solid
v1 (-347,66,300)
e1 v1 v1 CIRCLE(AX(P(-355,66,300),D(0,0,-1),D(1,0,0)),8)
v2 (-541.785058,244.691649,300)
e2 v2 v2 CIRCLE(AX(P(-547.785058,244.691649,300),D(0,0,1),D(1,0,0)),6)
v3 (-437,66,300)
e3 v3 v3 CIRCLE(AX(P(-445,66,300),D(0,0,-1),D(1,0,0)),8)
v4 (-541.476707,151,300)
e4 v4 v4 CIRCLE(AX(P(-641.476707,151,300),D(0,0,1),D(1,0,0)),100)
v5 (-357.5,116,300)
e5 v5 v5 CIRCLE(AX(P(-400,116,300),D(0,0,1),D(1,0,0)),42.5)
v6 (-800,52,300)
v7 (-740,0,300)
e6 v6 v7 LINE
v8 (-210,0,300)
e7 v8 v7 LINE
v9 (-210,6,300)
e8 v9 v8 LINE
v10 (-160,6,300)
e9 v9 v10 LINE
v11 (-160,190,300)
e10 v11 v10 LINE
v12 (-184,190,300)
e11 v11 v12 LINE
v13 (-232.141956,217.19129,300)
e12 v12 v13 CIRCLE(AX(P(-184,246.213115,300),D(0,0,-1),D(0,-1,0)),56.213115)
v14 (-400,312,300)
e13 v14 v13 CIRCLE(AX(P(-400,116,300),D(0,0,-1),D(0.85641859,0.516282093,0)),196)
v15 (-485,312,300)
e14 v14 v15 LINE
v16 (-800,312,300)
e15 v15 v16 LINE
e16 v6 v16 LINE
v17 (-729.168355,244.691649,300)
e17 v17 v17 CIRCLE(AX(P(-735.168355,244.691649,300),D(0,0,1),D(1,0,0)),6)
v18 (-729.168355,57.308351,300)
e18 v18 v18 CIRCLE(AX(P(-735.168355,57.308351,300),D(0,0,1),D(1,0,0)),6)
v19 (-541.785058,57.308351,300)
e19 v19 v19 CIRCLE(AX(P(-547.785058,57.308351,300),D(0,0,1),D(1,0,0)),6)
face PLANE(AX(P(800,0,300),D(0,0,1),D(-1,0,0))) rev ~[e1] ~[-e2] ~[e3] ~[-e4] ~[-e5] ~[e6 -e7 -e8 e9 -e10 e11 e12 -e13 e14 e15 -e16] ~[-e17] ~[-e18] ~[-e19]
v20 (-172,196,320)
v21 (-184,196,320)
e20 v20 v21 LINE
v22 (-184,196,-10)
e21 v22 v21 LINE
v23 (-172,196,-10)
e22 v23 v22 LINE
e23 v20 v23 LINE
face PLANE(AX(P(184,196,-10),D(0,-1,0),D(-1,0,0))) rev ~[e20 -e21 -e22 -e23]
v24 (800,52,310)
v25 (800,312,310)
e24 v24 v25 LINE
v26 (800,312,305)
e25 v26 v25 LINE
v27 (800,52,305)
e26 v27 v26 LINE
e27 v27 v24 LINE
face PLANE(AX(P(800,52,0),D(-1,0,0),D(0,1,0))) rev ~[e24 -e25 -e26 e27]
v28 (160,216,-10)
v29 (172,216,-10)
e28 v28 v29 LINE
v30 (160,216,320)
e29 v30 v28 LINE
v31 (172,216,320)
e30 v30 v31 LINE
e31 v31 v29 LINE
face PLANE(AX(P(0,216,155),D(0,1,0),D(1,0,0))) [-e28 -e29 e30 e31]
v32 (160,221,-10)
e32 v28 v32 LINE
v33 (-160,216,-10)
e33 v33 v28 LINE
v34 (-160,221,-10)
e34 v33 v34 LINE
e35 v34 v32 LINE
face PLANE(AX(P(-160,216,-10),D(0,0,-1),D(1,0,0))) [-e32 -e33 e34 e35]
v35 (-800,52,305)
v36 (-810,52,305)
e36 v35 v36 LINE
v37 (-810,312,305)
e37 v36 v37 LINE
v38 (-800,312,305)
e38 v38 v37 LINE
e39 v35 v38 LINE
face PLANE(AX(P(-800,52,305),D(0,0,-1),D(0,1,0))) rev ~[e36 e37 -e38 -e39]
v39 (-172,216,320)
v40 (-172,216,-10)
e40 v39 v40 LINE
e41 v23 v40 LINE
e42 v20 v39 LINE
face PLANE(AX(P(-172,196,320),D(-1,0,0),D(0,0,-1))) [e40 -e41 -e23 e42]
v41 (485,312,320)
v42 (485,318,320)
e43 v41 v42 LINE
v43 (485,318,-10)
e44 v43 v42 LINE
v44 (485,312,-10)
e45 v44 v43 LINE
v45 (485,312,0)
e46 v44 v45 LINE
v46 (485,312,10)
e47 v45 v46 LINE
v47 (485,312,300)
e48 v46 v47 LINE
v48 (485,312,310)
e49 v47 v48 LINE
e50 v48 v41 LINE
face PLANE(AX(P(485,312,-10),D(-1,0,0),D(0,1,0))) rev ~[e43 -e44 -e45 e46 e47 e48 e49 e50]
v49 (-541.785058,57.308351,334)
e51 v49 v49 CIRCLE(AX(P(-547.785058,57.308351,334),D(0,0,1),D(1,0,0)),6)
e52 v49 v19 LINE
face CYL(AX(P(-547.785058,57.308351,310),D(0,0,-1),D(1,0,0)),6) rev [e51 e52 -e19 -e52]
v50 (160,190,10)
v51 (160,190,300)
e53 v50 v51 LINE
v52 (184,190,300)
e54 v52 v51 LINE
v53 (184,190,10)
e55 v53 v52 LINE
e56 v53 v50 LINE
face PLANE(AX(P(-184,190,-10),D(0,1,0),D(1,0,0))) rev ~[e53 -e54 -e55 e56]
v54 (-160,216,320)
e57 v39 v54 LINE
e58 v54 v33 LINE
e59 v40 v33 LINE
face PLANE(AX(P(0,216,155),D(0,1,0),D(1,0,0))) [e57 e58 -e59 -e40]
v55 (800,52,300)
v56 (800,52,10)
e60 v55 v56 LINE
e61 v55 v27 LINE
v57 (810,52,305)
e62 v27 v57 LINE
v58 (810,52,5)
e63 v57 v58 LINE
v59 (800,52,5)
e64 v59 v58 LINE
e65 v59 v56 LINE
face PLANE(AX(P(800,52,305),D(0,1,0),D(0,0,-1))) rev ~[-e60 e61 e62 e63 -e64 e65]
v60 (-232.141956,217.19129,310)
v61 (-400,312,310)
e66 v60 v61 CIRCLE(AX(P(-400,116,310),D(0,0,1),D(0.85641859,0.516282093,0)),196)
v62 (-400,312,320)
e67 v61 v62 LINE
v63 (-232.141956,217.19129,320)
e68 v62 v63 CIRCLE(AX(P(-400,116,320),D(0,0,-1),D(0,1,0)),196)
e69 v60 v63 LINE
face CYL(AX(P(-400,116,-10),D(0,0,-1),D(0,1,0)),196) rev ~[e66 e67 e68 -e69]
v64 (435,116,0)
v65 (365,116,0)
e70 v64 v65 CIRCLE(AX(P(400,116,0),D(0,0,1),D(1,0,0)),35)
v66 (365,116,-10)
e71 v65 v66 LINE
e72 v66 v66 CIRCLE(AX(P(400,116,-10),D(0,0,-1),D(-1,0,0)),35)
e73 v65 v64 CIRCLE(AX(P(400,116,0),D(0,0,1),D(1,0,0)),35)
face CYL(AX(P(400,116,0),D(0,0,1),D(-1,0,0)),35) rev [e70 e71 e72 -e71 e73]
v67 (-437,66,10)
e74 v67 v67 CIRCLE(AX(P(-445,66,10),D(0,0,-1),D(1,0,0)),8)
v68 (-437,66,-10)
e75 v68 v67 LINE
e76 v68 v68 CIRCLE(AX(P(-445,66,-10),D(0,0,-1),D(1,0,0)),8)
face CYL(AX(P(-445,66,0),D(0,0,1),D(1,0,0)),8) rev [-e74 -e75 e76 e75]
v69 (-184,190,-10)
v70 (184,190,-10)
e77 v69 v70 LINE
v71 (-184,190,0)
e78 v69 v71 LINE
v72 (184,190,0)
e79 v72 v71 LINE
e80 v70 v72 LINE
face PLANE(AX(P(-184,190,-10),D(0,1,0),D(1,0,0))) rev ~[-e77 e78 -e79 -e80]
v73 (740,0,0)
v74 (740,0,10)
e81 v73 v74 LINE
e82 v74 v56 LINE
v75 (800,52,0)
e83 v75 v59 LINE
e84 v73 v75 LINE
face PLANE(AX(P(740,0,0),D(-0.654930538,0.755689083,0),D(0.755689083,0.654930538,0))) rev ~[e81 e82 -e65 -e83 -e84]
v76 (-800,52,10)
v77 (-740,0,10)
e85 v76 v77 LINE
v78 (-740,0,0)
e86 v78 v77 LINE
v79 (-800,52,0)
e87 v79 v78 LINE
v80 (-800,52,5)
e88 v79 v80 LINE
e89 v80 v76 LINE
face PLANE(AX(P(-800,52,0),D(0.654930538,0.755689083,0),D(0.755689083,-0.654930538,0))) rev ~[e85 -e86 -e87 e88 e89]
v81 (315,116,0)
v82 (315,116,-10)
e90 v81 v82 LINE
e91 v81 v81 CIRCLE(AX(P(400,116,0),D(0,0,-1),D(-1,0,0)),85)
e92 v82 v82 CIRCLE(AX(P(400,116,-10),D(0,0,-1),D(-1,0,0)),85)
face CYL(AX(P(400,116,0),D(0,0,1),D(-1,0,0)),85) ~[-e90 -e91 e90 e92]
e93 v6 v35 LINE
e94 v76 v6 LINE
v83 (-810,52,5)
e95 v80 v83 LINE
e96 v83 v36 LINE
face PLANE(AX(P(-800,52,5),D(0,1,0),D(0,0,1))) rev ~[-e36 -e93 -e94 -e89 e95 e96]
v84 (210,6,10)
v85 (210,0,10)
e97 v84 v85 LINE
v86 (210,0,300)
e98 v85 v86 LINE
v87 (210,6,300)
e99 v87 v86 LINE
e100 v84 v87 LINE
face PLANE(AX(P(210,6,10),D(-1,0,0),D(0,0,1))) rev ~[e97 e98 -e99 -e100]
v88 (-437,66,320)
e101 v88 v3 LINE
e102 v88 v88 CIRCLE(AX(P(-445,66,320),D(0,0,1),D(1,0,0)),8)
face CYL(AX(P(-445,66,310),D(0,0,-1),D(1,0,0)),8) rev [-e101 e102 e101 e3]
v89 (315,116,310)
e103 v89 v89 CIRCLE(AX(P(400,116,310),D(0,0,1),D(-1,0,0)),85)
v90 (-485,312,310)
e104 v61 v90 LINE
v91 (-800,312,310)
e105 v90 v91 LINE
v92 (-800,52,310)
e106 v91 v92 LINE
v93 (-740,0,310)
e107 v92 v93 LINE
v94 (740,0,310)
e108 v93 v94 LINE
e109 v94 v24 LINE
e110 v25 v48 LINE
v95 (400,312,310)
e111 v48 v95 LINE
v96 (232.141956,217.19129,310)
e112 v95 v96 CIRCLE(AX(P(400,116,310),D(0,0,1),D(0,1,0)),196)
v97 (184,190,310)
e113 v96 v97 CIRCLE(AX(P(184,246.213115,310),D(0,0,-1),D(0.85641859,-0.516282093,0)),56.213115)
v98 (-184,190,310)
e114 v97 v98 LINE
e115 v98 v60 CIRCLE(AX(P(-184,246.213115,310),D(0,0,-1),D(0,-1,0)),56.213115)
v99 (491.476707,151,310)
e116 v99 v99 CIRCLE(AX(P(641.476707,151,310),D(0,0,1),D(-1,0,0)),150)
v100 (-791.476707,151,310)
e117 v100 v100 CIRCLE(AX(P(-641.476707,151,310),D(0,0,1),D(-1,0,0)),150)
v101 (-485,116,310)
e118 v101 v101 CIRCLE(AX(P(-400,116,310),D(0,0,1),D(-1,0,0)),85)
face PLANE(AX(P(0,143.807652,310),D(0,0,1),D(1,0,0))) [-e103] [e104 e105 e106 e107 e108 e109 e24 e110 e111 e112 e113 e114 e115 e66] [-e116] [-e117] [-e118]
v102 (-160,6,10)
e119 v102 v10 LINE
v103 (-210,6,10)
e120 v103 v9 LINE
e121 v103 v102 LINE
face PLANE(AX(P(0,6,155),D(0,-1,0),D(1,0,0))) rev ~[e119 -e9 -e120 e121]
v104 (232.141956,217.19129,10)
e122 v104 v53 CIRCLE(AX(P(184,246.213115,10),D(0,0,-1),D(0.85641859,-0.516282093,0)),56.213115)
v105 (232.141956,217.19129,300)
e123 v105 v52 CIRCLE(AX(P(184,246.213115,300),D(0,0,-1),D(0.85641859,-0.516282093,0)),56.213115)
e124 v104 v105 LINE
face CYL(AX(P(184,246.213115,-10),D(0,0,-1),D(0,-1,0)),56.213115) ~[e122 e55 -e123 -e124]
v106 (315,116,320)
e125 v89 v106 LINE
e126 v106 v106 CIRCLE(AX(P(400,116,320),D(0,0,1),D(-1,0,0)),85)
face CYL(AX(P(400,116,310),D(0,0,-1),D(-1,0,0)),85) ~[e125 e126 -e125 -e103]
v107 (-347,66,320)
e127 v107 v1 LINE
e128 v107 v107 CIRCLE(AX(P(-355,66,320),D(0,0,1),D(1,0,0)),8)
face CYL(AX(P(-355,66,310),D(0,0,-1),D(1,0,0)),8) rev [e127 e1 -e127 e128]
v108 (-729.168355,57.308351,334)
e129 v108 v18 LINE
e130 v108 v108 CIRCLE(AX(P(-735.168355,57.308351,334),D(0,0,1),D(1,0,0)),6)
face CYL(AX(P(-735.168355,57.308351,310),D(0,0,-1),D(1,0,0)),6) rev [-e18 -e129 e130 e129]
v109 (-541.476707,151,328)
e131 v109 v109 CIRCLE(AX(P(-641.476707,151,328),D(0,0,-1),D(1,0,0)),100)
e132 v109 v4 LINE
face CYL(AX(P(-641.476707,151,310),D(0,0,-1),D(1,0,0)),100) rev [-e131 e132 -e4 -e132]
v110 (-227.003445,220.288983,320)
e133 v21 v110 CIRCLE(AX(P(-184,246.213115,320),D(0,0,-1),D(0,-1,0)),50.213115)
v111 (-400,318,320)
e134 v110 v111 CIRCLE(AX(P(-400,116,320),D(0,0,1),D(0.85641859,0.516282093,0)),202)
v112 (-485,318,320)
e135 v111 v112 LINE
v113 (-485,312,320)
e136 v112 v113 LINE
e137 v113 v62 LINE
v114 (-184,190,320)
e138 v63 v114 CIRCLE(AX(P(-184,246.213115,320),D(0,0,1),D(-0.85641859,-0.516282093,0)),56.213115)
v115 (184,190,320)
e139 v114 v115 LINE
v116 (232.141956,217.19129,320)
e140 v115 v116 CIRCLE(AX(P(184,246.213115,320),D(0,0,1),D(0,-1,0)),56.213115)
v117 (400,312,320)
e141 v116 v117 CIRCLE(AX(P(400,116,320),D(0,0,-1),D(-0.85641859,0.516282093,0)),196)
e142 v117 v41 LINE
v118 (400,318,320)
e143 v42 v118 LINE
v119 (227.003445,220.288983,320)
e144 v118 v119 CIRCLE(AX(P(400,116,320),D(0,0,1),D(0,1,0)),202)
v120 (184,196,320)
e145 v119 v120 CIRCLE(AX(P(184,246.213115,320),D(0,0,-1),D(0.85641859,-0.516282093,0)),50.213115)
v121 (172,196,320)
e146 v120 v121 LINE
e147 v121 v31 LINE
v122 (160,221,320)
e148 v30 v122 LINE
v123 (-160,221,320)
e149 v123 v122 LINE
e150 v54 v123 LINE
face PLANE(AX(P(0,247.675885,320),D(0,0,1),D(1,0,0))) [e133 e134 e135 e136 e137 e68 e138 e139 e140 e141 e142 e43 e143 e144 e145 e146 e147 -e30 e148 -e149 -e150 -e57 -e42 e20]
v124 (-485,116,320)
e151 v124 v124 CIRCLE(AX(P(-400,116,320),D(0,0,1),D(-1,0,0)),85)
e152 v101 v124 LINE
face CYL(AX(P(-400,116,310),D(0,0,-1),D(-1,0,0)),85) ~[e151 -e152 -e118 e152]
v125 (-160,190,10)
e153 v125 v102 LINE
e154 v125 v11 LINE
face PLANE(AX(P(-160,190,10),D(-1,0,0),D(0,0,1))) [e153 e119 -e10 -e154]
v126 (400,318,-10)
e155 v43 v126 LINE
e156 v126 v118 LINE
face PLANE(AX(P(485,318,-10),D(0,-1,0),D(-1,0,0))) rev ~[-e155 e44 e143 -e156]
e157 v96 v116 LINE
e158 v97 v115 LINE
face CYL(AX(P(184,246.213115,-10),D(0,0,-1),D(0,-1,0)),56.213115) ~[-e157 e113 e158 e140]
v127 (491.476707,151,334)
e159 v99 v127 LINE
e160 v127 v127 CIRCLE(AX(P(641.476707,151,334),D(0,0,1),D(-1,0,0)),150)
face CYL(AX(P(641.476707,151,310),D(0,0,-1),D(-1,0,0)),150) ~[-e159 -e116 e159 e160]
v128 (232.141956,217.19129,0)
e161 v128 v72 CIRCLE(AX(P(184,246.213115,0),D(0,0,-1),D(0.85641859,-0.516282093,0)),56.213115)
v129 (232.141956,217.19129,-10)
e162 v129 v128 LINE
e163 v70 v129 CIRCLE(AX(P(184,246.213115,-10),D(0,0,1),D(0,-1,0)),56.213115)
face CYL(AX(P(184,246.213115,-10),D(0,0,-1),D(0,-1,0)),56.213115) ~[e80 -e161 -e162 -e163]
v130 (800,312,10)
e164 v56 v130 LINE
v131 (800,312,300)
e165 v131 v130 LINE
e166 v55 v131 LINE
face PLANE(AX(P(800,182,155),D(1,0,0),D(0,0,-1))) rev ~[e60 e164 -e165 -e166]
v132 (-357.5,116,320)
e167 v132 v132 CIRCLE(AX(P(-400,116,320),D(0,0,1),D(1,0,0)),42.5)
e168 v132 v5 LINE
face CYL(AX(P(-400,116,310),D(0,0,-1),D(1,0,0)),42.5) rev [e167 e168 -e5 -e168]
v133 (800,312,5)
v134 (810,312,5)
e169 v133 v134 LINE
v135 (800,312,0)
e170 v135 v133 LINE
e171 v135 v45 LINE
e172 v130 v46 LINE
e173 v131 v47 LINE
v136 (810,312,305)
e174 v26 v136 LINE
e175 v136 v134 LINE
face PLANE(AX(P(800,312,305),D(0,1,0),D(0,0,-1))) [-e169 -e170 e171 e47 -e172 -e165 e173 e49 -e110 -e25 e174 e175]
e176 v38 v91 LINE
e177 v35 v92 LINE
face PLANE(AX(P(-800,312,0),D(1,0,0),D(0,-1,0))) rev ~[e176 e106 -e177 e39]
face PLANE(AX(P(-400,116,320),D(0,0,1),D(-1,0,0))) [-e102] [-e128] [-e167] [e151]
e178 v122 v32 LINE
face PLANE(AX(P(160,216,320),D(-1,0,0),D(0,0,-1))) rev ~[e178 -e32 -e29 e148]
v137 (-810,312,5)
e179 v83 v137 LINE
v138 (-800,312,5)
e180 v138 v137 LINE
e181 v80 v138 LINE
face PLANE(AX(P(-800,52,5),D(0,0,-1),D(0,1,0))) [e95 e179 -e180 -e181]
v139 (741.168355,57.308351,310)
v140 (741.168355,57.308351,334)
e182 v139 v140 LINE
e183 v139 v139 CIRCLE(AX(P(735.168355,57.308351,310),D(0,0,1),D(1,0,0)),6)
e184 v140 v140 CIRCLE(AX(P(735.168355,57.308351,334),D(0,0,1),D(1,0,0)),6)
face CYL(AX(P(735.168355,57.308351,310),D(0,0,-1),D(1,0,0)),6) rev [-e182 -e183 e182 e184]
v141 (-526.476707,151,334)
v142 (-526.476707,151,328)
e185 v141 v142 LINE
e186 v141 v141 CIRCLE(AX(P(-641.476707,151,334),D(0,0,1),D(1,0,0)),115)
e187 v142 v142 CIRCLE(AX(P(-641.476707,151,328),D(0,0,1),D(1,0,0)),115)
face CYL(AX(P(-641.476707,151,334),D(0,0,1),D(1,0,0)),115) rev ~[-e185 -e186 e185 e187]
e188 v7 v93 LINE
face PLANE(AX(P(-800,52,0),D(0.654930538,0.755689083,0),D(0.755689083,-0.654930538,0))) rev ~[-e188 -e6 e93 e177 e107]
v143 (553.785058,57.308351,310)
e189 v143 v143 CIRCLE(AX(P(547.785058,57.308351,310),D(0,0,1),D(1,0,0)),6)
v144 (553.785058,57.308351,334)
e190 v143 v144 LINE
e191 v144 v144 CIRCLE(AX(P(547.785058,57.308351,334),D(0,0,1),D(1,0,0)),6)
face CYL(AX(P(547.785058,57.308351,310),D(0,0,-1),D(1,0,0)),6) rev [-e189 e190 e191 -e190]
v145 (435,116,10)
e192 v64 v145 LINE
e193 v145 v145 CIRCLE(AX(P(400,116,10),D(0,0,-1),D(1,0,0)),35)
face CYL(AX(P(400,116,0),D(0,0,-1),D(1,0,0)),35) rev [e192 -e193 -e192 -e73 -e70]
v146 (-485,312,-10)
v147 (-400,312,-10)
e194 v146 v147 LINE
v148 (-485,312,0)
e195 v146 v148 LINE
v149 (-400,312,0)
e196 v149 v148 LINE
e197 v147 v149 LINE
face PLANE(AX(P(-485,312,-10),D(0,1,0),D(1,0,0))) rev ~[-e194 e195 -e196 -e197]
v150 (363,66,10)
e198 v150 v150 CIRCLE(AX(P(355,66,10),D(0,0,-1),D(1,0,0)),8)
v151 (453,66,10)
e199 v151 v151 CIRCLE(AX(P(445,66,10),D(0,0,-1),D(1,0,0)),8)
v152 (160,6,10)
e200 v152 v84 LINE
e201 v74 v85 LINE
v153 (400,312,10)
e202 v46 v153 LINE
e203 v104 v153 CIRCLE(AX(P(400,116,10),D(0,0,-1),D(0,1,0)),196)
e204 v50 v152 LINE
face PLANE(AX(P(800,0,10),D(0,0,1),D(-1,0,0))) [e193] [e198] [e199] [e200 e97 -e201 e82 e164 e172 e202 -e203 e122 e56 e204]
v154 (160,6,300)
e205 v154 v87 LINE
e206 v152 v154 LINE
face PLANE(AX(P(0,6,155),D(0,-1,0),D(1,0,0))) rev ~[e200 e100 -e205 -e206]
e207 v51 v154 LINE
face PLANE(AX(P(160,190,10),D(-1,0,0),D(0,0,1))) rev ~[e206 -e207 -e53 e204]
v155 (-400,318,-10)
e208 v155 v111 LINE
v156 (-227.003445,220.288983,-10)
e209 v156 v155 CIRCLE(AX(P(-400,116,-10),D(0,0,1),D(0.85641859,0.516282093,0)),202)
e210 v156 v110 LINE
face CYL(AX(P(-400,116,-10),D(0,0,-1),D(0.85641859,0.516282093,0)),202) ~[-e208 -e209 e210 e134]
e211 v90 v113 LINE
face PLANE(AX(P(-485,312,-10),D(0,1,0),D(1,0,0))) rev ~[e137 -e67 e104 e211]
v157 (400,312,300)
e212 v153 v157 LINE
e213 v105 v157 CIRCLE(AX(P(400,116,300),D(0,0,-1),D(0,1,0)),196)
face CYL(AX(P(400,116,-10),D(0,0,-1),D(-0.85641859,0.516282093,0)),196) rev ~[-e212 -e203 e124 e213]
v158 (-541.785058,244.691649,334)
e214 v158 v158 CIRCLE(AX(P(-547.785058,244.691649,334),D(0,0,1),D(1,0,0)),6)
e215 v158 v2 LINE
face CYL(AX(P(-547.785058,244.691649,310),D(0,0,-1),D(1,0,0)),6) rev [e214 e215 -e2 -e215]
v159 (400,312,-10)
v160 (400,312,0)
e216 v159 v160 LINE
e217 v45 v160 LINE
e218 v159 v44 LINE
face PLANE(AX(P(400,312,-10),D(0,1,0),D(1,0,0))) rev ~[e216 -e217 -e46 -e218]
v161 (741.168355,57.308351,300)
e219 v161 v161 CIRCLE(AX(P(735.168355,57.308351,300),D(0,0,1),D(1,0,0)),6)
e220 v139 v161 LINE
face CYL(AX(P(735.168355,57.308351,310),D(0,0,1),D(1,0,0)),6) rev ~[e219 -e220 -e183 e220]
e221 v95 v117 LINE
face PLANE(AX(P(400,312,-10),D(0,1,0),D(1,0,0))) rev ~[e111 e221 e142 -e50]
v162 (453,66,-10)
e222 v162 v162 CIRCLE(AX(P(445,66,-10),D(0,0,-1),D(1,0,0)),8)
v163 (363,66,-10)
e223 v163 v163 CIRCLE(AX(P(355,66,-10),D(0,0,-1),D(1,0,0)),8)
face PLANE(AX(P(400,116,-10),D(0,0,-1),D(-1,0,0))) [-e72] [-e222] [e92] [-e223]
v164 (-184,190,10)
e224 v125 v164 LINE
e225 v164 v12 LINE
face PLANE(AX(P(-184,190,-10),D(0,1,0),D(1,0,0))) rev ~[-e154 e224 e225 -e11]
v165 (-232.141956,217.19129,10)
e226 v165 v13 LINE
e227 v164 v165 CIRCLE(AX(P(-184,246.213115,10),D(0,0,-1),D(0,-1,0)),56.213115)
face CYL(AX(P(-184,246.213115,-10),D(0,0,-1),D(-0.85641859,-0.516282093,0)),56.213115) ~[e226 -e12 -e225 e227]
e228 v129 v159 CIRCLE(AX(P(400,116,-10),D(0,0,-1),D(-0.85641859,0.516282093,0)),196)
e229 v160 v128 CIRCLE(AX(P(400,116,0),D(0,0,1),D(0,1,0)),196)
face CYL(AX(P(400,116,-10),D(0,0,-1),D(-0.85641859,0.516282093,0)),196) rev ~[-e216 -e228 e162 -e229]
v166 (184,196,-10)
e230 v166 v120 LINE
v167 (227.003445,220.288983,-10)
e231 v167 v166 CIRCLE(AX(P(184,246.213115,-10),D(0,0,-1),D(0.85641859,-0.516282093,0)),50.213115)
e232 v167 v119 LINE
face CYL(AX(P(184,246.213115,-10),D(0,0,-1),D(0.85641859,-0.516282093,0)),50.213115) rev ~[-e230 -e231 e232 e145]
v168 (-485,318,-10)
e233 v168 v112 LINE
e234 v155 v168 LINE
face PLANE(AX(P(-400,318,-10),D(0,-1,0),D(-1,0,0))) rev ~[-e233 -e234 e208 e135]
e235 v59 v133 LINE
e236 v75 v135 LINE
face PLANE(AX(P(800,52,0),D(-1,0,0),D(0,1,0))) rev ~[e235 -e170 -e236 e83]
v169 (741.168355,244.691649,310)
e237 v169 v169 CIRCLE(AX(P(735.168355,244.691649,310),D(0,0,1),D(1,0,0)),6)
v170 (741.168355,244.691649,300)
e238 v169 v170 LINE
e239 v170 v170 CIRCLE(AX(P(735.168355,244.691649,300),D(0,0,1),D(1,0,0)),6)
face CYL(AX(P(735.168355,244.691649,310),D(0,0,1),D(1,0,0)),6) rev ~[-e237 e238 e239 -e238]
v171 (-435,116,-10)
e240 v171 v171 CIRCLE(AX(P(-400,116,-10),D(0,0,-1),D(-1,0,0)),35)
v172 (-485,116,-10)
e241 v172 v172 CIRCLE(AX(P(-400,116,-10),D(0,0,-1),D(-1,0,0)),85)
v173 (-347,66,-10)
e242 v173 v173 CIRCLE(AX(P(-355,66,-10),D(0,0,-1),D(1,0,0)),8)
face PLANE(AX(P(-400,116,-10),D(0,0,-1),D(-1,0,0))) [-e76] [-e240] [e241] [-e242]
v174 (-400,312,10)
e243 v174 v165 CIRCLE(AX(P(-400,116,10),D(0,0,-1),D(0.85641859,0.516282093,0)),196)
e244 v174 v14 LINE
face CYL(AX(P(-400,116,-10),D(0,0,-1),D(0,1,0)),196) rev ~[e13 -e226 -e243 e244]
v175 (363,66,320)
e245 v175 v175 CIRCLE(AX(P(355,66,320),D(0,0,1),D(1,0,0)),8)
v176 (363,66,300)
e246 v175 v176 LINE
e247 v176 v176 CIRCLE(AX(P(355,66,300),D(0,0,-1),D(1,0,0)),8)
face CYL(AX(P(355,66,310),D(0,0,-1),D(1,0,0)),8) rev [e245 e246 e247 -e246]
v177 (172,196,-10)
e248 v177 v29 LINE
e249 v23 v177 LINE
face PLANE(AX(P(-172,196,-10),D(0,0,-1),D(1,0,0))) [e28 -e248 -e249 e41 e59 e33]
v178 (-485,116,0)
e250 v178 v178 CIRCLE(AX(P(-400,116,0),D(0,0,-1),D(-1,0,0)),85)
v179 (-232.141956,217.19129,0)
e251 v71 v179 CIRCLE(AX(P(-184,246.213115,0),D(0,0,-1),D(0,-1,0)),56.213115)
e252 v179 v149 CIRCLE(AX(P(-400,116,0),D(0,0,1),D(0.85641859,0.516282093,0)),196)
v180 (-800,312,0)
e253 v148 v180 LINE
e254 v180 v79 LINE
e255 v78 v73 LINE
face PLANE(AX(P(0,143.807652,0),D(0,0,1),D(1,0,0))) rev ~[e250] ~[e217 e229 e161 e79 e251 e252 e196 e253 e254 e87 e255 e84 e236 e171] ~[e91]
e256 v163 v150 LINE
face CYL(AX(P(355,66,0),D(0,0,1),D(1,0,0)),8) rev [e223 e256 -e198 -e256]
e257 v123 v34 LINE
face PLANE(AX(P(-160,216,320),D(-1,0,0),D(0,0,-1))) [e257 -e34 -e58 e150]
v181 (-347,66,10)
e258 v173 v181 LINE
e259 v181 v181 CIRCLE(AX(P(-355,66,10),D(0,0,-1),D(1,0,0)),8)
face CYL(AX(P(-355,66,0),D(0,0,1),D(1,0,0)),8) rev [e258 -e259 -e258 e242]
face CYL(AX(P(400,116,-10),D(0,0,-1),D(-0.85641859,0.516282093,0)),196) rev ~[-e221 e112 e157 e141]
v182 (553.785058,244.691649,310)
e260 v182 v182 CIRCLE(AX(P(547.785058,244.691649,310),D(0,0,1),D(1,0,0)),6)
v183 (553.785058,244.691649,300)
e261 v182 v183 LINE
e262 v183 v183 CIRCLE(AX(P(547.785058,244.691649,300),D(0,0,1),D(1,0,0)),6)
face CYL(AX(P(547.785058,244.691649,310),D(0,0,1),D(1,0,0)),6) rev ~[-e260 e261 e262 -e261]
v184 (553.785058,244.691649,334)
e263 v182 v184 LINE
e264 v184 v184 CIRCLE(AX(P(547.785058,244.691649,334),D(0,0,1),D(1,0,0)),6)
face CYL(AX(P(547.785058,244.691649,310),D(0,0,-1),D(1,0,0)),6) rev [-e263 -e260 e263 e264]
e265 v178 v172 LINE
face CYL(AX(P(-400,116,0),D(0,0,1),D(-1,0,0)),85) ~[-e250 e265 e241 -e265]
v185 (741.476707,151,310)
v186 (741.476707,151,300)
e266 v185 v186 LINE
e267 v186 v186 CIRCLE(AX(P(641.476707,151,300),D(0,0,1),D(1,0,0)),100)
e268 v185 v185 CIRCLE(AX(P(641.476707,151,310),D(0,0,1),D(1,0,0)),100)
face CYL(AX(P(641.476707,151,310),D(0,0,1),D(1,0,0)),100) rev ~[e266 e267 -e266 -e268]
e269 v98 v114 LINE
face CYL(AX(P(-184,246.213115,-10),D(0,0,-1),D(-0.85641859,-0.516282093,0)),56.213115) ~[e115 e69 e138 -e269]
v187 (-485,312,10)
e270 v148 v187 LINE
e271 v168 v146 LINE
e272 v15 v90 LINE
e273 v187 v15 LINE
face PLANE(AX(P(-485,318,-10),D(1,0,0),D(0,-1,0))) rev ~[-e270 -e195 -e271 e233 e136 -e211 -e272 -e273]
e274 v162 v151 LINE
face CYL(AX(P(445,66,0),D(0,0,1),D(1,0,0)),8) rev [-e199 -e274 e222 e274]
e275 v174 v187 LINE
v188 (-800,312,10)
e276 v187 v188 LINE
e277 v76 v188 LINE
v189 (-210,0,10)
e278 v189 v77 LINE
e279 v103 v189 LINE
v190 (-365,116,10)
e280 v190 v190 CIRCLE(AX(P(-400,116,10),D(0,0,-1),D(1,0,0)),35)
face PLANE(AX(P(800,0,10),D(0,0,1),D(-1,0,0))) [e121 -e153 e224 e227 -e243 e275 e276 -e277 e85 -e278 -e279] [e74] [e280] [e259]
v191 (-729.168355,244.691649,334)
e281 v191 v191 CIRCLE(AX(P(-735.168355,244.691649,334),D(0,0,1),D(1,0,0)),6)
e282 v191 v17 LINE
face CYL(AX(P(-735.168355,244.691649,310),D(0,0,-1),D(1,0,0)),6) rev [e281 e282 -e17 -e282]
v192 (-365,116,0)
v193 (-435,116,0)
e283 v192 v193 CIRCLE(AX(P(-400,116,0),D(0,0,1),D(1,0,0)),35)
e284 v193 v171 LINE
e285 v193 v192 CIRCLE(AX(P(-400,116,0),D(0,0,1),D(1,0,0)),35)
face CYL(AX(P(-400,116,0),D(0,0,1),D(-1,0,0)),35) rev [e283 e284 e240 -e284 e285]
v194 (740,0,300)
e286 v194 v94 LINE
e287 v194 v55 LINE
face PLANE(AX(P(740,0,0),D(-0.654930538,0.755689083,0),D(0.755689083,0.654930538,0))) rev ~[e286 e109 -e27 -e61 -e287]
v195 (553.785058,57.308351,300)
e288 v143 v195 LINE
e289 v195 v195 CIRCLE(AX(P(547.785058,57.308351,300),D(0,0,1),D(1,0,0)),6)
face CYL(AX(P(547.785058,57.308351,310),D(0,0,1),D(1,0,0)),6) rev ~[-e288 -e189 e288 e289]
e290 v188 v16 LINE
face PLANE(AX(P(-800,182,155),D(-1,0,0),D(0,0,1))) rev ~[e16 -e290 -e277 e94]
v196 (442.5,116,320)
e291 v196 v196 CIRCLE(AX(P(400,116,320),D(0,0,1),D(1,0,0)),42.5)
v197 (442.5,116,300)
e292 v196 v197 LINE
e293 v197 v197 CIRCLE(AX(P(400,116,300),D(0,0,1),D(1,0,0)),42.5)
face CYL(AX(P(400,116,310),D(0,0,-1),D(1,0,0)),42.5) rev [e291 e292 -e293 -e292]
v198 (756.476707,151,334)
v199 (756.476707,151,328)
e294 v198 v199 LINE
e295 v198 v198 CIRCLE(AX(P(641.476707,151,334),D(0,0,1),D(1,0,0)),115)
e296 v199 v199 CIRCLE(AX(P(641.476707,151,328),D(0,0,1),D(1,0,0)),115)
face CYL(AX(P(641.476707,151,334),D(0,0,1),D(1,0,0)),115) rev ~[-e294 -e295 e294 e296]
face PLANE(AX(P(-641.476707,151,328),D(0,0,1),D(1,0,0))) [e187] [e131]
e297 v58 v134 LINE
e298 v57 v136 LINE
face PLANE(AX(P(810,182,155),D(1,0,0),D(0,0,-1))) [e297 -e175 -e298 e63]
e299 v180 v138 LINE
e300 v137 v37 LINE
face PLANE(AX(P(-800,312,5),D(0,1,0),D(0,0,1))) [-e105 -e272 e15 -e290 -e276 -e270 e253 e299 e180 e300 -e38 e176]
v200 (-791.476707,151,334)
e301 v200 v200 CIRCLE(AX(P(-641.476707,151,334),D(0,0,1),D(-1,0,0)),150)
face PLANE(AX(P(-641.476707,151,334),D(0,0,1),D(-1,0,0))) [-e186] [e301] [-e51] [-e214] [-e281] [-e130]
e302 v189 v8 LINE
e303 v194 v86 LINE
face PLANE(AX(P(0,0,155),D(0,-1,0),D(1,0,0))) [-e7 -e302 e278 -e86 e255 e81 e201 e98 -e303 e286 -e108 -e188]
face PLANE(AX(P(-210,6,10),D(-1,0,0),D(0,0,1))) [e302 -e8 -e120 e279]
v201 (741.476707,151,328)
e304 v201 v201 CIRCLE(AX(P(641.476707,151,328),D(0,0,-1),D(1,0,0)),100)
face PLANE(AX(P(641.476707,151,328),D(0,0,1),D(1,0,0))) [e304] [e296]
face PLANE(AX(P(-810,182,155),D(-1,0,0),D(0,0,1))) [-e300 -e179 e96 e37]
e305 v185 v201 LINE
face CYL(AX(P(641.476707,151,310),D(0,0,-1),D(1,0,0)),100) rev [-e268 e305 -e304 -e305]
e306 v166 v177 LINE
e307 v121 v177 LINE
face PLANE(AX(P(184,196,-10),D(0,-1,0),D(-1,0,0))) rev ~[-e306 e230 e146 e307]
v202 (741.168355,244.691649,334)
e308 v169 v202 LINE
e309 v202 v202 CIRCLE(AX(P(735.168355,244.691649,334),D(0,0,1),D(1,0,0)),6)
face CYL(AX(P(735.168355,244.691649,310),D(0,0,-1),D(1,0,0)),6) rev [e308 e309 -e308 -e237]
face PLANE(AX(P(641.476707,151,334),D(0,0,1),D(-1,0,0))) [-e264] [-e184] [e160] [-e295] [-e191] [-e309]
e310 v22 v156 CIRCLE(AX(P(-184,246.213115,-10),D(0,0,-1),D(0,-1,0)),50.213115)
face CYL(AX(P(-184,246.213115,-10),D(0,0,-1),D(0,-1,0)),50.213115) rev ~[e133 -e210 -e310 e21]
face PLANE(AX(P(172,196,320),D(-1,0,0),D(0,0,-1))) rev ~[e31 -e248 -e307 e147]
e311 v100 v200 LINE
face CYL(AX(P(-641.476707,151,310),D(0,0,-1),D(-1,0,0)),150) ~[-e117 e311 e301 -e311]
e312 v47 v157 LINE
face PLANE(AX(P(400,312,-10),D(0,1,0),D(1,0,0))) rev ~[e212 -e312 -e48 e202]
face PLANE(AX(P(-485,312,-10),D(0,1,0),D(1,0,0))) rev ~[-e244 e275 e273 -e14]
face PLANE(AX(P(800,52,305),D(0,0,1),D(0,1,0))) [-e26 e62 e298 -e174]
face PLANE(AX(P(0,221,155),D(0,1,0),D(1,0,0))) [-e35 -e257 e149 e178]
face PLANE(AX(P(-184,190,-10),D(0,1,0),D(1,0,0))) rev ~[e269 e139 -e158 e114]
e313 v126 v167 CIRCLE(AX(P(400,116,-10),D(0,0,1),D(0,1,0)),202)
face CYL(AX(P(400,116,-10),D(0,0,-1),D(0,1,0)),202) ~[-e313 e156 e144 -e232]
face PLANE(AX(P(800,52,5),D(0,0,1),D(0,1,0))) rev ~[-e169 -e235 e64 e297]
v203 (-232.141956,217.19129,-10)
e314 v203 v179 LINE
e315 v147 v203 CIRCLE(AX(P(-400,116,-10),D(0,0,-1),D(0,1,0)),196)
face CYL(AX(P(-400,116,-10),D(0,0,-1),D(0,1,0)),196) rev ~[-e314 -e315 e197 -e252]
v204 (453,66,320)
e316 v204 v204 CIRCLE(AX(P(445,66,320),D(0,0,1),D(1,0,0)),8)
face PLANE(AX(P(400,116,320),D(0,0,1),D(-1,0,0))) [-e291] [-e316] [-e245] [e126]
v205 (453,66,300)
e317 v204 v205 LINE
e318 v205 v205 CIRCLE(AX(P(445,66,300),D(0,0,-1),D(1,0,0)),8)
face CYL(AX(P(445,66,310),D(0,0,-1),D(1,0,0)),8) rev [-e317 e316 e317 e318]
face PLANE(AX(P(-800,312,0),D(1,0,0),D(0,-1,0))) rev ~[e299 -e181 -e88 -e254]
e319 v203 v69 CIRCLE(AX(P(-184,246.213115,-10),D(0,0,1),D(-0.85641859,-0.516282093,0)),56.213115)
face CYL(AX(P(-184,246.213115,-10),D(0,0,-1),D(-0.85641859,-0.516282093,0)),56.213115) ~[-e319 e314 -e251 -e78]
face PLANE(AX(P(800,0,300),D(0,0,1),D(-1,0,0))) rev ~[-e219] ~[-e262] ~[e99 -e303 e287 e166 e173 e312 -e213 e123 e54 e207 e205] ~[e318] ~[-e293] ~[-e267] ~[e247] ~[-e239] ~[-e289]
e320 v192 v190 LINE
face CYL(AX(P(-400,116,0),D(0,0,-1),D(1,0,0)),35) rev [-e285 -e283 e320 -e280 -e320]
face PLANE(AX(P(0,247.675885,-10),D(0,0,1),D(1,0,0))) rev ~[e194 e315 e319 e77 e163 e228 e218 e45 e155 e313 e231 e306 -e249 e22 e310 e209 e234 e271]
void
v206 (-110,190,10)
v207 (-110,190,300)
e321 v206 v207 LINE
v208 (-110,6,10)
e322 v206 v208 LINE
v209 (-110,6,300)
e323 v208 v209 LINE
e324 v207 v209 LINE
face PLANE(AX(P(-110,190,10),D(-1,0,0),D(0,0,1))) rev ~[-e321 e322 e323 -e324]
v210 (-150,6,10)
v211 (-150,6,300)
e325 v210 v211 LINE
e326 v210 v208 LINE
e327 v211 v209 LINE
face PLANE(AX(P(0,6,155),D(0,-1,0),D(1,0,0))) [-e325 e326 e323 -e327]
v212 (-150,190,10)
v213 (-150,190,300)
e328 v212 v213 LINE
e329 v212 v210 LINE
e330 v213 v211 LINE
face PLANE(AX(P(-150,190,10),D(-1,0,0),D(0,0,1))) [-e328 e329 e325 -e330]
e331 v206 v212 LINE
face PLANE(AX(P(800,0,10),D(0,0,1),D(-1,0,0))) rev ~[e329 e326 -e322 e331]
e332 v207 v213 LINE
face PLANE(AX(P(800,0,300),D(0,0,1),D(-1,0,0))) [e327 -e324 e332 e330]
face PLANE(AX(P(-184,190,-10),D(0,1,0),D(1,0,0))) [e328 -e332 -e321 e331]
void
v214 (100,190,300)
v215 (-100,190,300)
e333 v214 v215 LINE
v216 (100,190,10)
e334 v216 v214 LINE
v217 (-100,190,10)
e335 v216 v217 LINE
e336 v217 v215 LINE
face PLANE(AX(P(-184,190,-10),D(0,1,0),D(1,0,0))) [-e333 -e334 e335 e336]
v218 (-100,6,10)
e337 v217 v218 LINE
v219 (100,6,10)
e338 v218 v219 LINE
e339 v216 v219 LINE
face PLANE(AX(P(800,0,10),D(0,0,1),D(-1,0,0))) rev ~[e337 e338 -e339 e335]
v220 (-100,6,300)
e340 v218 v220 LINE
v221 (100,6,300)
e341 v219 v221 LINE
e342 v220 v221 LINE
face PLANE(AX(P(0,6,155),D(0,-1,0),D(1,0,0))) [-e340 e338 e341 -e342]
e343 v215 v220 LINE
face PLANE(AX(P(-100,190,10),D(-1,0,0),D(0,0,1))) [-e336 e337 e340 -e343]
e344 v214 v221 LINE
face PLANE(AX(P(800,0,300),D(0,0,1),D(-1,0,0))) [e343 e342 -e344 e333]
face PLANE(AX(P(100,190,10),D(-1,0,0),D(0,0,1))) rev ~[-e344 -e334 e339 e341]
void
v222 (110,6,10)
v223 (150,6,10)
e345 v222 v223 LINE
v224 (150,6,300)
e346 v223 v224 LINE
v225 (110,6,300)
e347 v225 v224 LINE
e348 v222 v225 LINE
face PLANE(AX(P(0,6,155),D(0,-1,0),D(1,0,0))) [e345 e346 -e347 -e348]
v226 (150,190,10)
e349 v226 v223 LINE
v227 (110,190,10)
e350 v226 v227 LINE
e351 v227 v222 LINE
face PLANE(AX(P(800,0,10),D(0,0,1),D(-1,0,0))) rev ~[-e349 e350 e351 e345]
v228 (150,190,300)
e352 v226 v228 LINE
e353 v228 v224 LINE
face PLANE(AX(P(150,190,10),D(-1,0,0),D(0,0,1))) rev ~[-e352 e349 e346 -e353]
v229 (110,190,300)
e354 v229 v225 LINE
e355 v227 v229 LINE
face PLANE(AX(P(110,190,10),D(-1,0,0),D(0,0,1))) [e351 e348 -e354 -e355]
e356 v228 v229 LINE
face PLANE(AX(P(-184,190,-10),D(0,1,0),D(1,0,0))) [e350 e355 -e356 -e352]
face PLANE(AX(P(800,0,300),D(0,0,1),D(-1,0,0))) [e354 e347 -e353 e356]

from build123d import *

# Parameters (mm, degrees)
SKETCH_1_R             = 35
SKETCH_1_R_2           = 8
EXTRUDE_1_DEPTH        = 310
SKETCH_2_W             = 1600
SKETCH_2_H             = 290
CUT_EXTRUDE_1_DEPTH    = 913.931541793
SKETCH_3_R             = 100
SKETCH_3_R_2           = 6
SKETCH_3_R_3           = 42.5
CUT_EXTRUDE_2_DEPTH    = 10
EXTRUDE_2_DEPTH        = 330
SKETCH_6_W             = 300
SKETCH_6_H             = 260
EXTRUDE_3_DEPTH        = 10
SKETCH_7_W             = 300
SKETCH_7_H             = 260
EXTRUDE_4_DEPTH        = 10
SKETCH_9_W             = 10
SKETCH_9_H             = 290
EXTRUDE_5_DEPTH        = 184
SKETCH_10_W            = 420
SKETCH_10_H            = 290
EXTRUDE_6_DEPTH        = 6
SKETCH_11_R            = 85
SKETCH_11_R_2          = 42.5
SKETCH_11_R_3          = 8
EXTRUDE_7_DEPTH        = 10
SKETCH_12_R            = 85
SKETCH_12_R_2          = 35
SKETCH_12_R_3          = 8
EXTRUDE_8_DEPTH        = 10
PATTERN_LINEAR_2_COUNT = 2
PATTERN_LINEAR_2_PITCH = 800
SKETCH_13_R            = 150
SKETCH_13_R_2          = 100
SKETCH_13_R_3          = 6
EXTRUDE_9_DEPTH        = 24
SKETCH_14_R            = 115
CUT_EXTRUDE_3_DEPTH    = 6
SKETCH_17_W            = 344
SKETCH_17_H            = 330
EXTRUDE_11_DEPTH       = 20
SKETCH_16_W            = 320
SKETCH_16_H            = 330
EXTRUDE_10_DEPTH       = 5


with BuildPart() as part:
    # 草图1 → 凸台-拉伸1 (new body)
    with BuildSketch(Plane.XY):
        with BuildLine():
            Line((-740, 0), (740, 0))
            Line((740, 0), (800, 52))
            Line((800, 52), (800, 312))
            Line((800, 312), (400, 312))
            ThreePointArc((400, 312), (303.608851243, 286.659738783), (232.141956451, 217.191290218))
            ThreePointArc((232.141956451, 217.191290218), (211.645136257, 197.267627611), (184, 190))
            Line((184, 190), (-184, 190))
            ThreePointArc((-184, 190), (-211.645136257, 197.267627611), (-232.141956451, 217.191290218))
            ThreePointArc((-232.141956451, 217.191290218), (-303.608851243, 286.659738783), (-400, 312))
            Line((-400, 312), (-800, 312))
            Line((-800, 312), (-800, 52))
            Line((-800, 52), (-740, 0))
        make_face()
        with Locations((-400, 116)):
            Circle(SKETCH_1_R, mode=Mode.SUBTRACT)
        with Locations((400, 116)):
            Circle(SKETCH_1_R, mode=Mode.SUBTRACT)
        with Locations((-445, 66)):
            Circle(SKETCH_1_R_2, mode=Mode.SUBTRACT)
        with Locations((-355, 66)):
            Circle(SKETCH_1_R_2, mode=Mode.SUBTRACT)
        with Locations((355, 66)):
            Circle(SKETCH_1_R_2, mode=Mode.SUBTRACT)
        with Locations((445, 66)):
            Circle(SKETCH_1_R_2, mode=Mode.SUBTRACT)
    extrude(amount=EXTRUDE_1_DEPTH)

    # 草图2 → 切除-拉伸1 (cut, through all)
    with BuildSketch(Plane(origin=(0, 0, 0), x_dir=(-1, 0, 0), z_dir=(0, -1, 0))):
        with Locations((0, -155)):
            Rectangle(SKETCH_2_W, SKETCH_2_H)
    extrude(amount=-CUT_EXTRUDE_1_DEPTH, mode=Mode.SUBTRACT)


with BuildPart() as cut_extrude_1_piece_1:
    # of the separate pieces the step leaves, piece 1, a body of its own (cut_extrude_1_pieces)
    add(part.part.solids().sort_by_distance((-740, 0, 0))[0])

    # 草图5 → 凸台-拉伸2 (add)
    with BuildSketch(Plane.XY.offset(-10)):
        with BuildLine():
            Line((485, 312), (485, 318))
            Line((485, 318), (400, 318))
            ThreePointArc((400, 318), (300.658101791, 291.8840165), (227.003444914, 220.288982775))
            ThreePointArc((227.003444914, 220.288982775), (208.694386805, 202.491905329), (184, 196))
            Line((184, 196), (-184, 196))
            ThreePointArc((-184, 196), (-208.694386805, 202.491905329), (-227.003444914, 220.288982775))
            ThreePointArc((-227.003444914, 220.288982775), (-300.658101791, 291.8840165), (-400, 318))
            Line((-400, 318), (-485, 318))
            Line((-485, 318), (-485, 312))
            Line((-485, 312), (-400, 312))
            ThreePointArc((-400, 312), (-303.608851243, 286.659738783), (-232.141956451, 217.191290218))
            ThreePointArc((-232.141956451, 217.191290218), (-211.645136257, 197.267627611), (-184, 190))
            Line((-184, 190), (184, 190))
            ThreePointArc((184, 190), (211.645136257, 197.267627611), (232.141956451, 217.191290218))
            ThreePointArc((232.141956451, 217.191290218), (303.608851243, 286.659738783), (400, 312))
            Line((400, 312), (485, 312))
        make_face()
    extrude(amount=EXTRUDE_2_DEPTH)



with BuildPart() as cut_extrude_1_piece_2:
    # of the separate pieces the step leaves, piece 2, a body of its own (cut_extrude_1_pieces)
    add(part.part.solids().sort_by_distance((-740, 0, 300))[0])

    # 草图3 → 切除-拉伸2 (cut)
    with BuildSketch(Plane.XY.offset(310)):
        with Locations((-641.476706951, 151)):
            Circle(SKETCH_3_R)
        with Locations((641.476706951, 151)):
            Circle(SKETCH_3_R)
        with Locations((-735.168355458, 244.691648507)):
            Circle(SKETCH_3_R_2)
        with Locations((-547.785058444, 244.691648507)):
            Circle(SKETCH_3_R_2)
        with Locations((-735.168355458, 57.308351493)):
            Circle(SKETCH_3_R_2)
        with Locations((-547.785058444, 57.308351493)):
            Circle(SKETCH_3_R_2)
        with Locations((547.785058444, 244.691648507)):
            Circle(SKETCH_3_R_2)
        with Locations((735.168355458, 244.691648507)):
            Circle(SKETCH_3_R_2)
        with Locations((735.168355458, 57.308351493)):
            Circle(SKETCH_3_R_2)
        with Locations((547.785058444, 57.308351493)):
            Circle(SKETCH_3_R_2)
        with Locations((-400, 116)):
            Circle(SKETCH_3_R_3)
        with Locations((400, 116)):
            Circle(SKETCH_3_R_3)
    extrude(amount=-CUT_EXTRUDE_2_DEPTH, mode=Mode.SUBTRACT)


with BuildPart() as cut_extrude_1_piece_1_1:
    add(cut_extrude_1_piece_1.part)

    add(cut_extrude_1_piece_2.part)  # 凸台-拉伸3 merges 切除-拉伸1 piece 2
    # 草图6 → 凸台-拉伸3 (add)
    with BuildSketch(Plane(origin=(800, 0, 0), x_dir=(0, 0, -1), z_dir=(1, 0, 0))):
        with Locations((-155, 182)):
            Rectangle(SKETCH_6_W, SKETCH_6_H)
    extrude(amount=EXTRUDE_3_DEPTH)

    # 草图7 → 凸台-拉伸4 (add)
    with BuildSketch(Plane.ZY.offset(800)):
        with Locations((155, 182)):
            Rectangle(SKETCH_7_W, SKETCH_7_H)
    extrude(amount=EXTRUDE_4_DEPTH)

    # 草图9 → 凸台-拉伸5 (add)
    with BuildSketch(Plane.XZ.offset(-190)):
        with Locations((-105, 155)):
            Rectangle(SKETCH_9_W, SKETCH_9_H)
        with Locations((105, 155)):
            Rectangle(SKETCH_9_W, SKETCH_9_H)
        with Locations((155, 155)):
            Rectangle(SKETCH_9_W, SKETCH_9_H)
        with Locations((-155, 155)):
            Rectangle(SKETCH_9_W, SKETCH_9_H)
    extrude(amount=EXTRUDE_5_DEPTH)

    # 草图10 → 凸台-拉伸6 (add)
    with BuildSketch(Plane.XZ.offset(-6)):
        with Locations((0, 155)):
            Rectangle(SKETCH_10_W, SKETCH_10_H)
    extrude(amount=EXTRUDE_6_DEPTH)

    # 草图11 → 凸台-拉伸7 (add)
    with BuildSketch(Plane.XY.offset(310)):
        with Locations(Location((-400, 116, 0), (0, 0, 180))):
            Circle(SKETCH_11_R)
        with Locations((-400, 116)):
            Circle(SKETCH_11_R_2, mode=Mode.SUBTRACT)
        with Locations((-445, 66)):
            Circle(SKETCH_11_R_3, mode=Mode.SUBTRACT)
        with Locations((-355, 66)):
            Circle(SKETCH_11_R_3, mode=Mode.SUBTRACT)
    extrude_7 = extrude(amount=EXTRUDE_7_DEPTH)

    # 草图12 → 凸台-拉伸8 (add)
    with BuildSketch(Plane(origin=(0, 0, 0), x_dir=(-1, 0, 0), z_dir=(0, 0, -1))):
        with Locations((400, 116)):
            Circle(SKETCH_12_R)
        with Locations((400, 116)):
            Circle(SKETCH_12_R_2, mode=Mode.SUBTRACT)
        with Locations(Location((355, 66, 0), (0, 0, 180))):
            Circle(SKETCH_12_R_3, mode=Mode.SUBTRACT)
        with Locations(Location((445, 66, 0), (0, 0, 180))):
            Circle(SKETCH_12_R_3, mode=Mode.SUBTRACT)
    extrude_8 = extrude(amount=EXTRUDE_8_DEPTH)

    # 阵列(线性)2: 凸台-拉伸7, 凸台-拉伸8 ×2
    with Locations(*[(i * PATTERN_LINEAR_2_PITCH, 0, 0) for i in range(1, PATTERN_LINEAR_2_COUNT)]):
        add(extrude_7)
        add(extrude_8)

    # 草图13 → 凸台-拉伸9 (add)
    # profile 1 of 2: a face of its own
    with BuildSketch(Plane.XY.offset(310)):
        with Locations(Location((-641.476706951, 151, 0), (0, 0, 180))):
            Circle(SKETCH_13_R)
        with Locations((-641.476706951, 151)):
            Circle(SKETCH_13_R_2, mode=Mode.SUBTRACT)
        with Locations((-735.168355458, 244.691648507)):
            Circle(SKETCH_13_R_3, mode=Mode.SUBTRACT)
        with Locations((-547.785058444, 244.691648507)):
            Circle(SKETCH_13_R_3, mode=Mode.SUBTRACT)
        with Locations((-547.785058444, 57.308351493)):
            Circle(SKETCH_13_R_3, mode=Mode.SUBTRACT)
        with Locations((-735.168355458, 57.308351493)):
            Circle(SKETCH_13_R_3, mode=Mode.SUBTRACT)
    # profile 2 of 2: a face of its own
    with BuildSketch(Plane.XY.offset(310)):
        with Locations(Location((641.476706951, 151, 0), (0, 0, 180))):
            Circle(SKETCH_13_R)
        with Locations((735.168355458, 244.691648507)):
            Circle(SKETCH_13_R_3, mode=Mode.SUBTRACT)
        with Locations((547.785058444, 57.308351493)):
            Circle(SKETCH_13_R_3, mode=Mode.SUBTRACT)
        with Locations((735.168355458, 57.308351493)):
            Circle(SKETCH_13_R_3, mode=Mode.SUBTRACT)
        with Locations((547.785058444, 244.691648507)):
            Circle(SKETCH_13_R_3, mode=Mode.SUBTRACT)
        with Locations((641.476706951, 151)):
            Circle(SKETCH_13_R_2, mode=Mode.SUBTRACT)
    extrude(amount=EXTRUDE_9_DEPTH)

    # 草图14 → 切除-拉伸3 (cut)
    with BuildSketch(Plane.XY.offset(334)):
        with Locations((-641.476706951, 151)):
            Circle(SKETCH_14_R)
        with Locations((641.476706951, 151)):
            Circle(SKETCH_14_R)
    extrude(amount=-CUT_EXTRUDE_3_DEPTH, mode=Mode.SUBTRACT)

    # 草图17 → 凸台-拉伸11 (add)
    with BuildSketch(Plane(origin=(0, 196, 0), x_dir=(1, 0, 0), z_dir=(0, 1, 0))):
        with Locations((0, -155)):
            Rectangle(SKETCH_17_W, SKETCH_17_H)
    extrude(amount=EXTRUDE_11_DEPTH)

    # 草图16 → 凸台-拉伸10 (add)
    with BuildSketch(Plane(origin=(0, 216, 0), x_dir=(1, 0, 0), z_dir=(0, 1, 0))):
        with Locations((0, -155)):
            Rectangle(SKETCH_16_W, SKETCH_16_H)
    extrude(amount=EXTRUDE_10_DEPTH)


solid = cut_extrude_1_piece_1_1.part
